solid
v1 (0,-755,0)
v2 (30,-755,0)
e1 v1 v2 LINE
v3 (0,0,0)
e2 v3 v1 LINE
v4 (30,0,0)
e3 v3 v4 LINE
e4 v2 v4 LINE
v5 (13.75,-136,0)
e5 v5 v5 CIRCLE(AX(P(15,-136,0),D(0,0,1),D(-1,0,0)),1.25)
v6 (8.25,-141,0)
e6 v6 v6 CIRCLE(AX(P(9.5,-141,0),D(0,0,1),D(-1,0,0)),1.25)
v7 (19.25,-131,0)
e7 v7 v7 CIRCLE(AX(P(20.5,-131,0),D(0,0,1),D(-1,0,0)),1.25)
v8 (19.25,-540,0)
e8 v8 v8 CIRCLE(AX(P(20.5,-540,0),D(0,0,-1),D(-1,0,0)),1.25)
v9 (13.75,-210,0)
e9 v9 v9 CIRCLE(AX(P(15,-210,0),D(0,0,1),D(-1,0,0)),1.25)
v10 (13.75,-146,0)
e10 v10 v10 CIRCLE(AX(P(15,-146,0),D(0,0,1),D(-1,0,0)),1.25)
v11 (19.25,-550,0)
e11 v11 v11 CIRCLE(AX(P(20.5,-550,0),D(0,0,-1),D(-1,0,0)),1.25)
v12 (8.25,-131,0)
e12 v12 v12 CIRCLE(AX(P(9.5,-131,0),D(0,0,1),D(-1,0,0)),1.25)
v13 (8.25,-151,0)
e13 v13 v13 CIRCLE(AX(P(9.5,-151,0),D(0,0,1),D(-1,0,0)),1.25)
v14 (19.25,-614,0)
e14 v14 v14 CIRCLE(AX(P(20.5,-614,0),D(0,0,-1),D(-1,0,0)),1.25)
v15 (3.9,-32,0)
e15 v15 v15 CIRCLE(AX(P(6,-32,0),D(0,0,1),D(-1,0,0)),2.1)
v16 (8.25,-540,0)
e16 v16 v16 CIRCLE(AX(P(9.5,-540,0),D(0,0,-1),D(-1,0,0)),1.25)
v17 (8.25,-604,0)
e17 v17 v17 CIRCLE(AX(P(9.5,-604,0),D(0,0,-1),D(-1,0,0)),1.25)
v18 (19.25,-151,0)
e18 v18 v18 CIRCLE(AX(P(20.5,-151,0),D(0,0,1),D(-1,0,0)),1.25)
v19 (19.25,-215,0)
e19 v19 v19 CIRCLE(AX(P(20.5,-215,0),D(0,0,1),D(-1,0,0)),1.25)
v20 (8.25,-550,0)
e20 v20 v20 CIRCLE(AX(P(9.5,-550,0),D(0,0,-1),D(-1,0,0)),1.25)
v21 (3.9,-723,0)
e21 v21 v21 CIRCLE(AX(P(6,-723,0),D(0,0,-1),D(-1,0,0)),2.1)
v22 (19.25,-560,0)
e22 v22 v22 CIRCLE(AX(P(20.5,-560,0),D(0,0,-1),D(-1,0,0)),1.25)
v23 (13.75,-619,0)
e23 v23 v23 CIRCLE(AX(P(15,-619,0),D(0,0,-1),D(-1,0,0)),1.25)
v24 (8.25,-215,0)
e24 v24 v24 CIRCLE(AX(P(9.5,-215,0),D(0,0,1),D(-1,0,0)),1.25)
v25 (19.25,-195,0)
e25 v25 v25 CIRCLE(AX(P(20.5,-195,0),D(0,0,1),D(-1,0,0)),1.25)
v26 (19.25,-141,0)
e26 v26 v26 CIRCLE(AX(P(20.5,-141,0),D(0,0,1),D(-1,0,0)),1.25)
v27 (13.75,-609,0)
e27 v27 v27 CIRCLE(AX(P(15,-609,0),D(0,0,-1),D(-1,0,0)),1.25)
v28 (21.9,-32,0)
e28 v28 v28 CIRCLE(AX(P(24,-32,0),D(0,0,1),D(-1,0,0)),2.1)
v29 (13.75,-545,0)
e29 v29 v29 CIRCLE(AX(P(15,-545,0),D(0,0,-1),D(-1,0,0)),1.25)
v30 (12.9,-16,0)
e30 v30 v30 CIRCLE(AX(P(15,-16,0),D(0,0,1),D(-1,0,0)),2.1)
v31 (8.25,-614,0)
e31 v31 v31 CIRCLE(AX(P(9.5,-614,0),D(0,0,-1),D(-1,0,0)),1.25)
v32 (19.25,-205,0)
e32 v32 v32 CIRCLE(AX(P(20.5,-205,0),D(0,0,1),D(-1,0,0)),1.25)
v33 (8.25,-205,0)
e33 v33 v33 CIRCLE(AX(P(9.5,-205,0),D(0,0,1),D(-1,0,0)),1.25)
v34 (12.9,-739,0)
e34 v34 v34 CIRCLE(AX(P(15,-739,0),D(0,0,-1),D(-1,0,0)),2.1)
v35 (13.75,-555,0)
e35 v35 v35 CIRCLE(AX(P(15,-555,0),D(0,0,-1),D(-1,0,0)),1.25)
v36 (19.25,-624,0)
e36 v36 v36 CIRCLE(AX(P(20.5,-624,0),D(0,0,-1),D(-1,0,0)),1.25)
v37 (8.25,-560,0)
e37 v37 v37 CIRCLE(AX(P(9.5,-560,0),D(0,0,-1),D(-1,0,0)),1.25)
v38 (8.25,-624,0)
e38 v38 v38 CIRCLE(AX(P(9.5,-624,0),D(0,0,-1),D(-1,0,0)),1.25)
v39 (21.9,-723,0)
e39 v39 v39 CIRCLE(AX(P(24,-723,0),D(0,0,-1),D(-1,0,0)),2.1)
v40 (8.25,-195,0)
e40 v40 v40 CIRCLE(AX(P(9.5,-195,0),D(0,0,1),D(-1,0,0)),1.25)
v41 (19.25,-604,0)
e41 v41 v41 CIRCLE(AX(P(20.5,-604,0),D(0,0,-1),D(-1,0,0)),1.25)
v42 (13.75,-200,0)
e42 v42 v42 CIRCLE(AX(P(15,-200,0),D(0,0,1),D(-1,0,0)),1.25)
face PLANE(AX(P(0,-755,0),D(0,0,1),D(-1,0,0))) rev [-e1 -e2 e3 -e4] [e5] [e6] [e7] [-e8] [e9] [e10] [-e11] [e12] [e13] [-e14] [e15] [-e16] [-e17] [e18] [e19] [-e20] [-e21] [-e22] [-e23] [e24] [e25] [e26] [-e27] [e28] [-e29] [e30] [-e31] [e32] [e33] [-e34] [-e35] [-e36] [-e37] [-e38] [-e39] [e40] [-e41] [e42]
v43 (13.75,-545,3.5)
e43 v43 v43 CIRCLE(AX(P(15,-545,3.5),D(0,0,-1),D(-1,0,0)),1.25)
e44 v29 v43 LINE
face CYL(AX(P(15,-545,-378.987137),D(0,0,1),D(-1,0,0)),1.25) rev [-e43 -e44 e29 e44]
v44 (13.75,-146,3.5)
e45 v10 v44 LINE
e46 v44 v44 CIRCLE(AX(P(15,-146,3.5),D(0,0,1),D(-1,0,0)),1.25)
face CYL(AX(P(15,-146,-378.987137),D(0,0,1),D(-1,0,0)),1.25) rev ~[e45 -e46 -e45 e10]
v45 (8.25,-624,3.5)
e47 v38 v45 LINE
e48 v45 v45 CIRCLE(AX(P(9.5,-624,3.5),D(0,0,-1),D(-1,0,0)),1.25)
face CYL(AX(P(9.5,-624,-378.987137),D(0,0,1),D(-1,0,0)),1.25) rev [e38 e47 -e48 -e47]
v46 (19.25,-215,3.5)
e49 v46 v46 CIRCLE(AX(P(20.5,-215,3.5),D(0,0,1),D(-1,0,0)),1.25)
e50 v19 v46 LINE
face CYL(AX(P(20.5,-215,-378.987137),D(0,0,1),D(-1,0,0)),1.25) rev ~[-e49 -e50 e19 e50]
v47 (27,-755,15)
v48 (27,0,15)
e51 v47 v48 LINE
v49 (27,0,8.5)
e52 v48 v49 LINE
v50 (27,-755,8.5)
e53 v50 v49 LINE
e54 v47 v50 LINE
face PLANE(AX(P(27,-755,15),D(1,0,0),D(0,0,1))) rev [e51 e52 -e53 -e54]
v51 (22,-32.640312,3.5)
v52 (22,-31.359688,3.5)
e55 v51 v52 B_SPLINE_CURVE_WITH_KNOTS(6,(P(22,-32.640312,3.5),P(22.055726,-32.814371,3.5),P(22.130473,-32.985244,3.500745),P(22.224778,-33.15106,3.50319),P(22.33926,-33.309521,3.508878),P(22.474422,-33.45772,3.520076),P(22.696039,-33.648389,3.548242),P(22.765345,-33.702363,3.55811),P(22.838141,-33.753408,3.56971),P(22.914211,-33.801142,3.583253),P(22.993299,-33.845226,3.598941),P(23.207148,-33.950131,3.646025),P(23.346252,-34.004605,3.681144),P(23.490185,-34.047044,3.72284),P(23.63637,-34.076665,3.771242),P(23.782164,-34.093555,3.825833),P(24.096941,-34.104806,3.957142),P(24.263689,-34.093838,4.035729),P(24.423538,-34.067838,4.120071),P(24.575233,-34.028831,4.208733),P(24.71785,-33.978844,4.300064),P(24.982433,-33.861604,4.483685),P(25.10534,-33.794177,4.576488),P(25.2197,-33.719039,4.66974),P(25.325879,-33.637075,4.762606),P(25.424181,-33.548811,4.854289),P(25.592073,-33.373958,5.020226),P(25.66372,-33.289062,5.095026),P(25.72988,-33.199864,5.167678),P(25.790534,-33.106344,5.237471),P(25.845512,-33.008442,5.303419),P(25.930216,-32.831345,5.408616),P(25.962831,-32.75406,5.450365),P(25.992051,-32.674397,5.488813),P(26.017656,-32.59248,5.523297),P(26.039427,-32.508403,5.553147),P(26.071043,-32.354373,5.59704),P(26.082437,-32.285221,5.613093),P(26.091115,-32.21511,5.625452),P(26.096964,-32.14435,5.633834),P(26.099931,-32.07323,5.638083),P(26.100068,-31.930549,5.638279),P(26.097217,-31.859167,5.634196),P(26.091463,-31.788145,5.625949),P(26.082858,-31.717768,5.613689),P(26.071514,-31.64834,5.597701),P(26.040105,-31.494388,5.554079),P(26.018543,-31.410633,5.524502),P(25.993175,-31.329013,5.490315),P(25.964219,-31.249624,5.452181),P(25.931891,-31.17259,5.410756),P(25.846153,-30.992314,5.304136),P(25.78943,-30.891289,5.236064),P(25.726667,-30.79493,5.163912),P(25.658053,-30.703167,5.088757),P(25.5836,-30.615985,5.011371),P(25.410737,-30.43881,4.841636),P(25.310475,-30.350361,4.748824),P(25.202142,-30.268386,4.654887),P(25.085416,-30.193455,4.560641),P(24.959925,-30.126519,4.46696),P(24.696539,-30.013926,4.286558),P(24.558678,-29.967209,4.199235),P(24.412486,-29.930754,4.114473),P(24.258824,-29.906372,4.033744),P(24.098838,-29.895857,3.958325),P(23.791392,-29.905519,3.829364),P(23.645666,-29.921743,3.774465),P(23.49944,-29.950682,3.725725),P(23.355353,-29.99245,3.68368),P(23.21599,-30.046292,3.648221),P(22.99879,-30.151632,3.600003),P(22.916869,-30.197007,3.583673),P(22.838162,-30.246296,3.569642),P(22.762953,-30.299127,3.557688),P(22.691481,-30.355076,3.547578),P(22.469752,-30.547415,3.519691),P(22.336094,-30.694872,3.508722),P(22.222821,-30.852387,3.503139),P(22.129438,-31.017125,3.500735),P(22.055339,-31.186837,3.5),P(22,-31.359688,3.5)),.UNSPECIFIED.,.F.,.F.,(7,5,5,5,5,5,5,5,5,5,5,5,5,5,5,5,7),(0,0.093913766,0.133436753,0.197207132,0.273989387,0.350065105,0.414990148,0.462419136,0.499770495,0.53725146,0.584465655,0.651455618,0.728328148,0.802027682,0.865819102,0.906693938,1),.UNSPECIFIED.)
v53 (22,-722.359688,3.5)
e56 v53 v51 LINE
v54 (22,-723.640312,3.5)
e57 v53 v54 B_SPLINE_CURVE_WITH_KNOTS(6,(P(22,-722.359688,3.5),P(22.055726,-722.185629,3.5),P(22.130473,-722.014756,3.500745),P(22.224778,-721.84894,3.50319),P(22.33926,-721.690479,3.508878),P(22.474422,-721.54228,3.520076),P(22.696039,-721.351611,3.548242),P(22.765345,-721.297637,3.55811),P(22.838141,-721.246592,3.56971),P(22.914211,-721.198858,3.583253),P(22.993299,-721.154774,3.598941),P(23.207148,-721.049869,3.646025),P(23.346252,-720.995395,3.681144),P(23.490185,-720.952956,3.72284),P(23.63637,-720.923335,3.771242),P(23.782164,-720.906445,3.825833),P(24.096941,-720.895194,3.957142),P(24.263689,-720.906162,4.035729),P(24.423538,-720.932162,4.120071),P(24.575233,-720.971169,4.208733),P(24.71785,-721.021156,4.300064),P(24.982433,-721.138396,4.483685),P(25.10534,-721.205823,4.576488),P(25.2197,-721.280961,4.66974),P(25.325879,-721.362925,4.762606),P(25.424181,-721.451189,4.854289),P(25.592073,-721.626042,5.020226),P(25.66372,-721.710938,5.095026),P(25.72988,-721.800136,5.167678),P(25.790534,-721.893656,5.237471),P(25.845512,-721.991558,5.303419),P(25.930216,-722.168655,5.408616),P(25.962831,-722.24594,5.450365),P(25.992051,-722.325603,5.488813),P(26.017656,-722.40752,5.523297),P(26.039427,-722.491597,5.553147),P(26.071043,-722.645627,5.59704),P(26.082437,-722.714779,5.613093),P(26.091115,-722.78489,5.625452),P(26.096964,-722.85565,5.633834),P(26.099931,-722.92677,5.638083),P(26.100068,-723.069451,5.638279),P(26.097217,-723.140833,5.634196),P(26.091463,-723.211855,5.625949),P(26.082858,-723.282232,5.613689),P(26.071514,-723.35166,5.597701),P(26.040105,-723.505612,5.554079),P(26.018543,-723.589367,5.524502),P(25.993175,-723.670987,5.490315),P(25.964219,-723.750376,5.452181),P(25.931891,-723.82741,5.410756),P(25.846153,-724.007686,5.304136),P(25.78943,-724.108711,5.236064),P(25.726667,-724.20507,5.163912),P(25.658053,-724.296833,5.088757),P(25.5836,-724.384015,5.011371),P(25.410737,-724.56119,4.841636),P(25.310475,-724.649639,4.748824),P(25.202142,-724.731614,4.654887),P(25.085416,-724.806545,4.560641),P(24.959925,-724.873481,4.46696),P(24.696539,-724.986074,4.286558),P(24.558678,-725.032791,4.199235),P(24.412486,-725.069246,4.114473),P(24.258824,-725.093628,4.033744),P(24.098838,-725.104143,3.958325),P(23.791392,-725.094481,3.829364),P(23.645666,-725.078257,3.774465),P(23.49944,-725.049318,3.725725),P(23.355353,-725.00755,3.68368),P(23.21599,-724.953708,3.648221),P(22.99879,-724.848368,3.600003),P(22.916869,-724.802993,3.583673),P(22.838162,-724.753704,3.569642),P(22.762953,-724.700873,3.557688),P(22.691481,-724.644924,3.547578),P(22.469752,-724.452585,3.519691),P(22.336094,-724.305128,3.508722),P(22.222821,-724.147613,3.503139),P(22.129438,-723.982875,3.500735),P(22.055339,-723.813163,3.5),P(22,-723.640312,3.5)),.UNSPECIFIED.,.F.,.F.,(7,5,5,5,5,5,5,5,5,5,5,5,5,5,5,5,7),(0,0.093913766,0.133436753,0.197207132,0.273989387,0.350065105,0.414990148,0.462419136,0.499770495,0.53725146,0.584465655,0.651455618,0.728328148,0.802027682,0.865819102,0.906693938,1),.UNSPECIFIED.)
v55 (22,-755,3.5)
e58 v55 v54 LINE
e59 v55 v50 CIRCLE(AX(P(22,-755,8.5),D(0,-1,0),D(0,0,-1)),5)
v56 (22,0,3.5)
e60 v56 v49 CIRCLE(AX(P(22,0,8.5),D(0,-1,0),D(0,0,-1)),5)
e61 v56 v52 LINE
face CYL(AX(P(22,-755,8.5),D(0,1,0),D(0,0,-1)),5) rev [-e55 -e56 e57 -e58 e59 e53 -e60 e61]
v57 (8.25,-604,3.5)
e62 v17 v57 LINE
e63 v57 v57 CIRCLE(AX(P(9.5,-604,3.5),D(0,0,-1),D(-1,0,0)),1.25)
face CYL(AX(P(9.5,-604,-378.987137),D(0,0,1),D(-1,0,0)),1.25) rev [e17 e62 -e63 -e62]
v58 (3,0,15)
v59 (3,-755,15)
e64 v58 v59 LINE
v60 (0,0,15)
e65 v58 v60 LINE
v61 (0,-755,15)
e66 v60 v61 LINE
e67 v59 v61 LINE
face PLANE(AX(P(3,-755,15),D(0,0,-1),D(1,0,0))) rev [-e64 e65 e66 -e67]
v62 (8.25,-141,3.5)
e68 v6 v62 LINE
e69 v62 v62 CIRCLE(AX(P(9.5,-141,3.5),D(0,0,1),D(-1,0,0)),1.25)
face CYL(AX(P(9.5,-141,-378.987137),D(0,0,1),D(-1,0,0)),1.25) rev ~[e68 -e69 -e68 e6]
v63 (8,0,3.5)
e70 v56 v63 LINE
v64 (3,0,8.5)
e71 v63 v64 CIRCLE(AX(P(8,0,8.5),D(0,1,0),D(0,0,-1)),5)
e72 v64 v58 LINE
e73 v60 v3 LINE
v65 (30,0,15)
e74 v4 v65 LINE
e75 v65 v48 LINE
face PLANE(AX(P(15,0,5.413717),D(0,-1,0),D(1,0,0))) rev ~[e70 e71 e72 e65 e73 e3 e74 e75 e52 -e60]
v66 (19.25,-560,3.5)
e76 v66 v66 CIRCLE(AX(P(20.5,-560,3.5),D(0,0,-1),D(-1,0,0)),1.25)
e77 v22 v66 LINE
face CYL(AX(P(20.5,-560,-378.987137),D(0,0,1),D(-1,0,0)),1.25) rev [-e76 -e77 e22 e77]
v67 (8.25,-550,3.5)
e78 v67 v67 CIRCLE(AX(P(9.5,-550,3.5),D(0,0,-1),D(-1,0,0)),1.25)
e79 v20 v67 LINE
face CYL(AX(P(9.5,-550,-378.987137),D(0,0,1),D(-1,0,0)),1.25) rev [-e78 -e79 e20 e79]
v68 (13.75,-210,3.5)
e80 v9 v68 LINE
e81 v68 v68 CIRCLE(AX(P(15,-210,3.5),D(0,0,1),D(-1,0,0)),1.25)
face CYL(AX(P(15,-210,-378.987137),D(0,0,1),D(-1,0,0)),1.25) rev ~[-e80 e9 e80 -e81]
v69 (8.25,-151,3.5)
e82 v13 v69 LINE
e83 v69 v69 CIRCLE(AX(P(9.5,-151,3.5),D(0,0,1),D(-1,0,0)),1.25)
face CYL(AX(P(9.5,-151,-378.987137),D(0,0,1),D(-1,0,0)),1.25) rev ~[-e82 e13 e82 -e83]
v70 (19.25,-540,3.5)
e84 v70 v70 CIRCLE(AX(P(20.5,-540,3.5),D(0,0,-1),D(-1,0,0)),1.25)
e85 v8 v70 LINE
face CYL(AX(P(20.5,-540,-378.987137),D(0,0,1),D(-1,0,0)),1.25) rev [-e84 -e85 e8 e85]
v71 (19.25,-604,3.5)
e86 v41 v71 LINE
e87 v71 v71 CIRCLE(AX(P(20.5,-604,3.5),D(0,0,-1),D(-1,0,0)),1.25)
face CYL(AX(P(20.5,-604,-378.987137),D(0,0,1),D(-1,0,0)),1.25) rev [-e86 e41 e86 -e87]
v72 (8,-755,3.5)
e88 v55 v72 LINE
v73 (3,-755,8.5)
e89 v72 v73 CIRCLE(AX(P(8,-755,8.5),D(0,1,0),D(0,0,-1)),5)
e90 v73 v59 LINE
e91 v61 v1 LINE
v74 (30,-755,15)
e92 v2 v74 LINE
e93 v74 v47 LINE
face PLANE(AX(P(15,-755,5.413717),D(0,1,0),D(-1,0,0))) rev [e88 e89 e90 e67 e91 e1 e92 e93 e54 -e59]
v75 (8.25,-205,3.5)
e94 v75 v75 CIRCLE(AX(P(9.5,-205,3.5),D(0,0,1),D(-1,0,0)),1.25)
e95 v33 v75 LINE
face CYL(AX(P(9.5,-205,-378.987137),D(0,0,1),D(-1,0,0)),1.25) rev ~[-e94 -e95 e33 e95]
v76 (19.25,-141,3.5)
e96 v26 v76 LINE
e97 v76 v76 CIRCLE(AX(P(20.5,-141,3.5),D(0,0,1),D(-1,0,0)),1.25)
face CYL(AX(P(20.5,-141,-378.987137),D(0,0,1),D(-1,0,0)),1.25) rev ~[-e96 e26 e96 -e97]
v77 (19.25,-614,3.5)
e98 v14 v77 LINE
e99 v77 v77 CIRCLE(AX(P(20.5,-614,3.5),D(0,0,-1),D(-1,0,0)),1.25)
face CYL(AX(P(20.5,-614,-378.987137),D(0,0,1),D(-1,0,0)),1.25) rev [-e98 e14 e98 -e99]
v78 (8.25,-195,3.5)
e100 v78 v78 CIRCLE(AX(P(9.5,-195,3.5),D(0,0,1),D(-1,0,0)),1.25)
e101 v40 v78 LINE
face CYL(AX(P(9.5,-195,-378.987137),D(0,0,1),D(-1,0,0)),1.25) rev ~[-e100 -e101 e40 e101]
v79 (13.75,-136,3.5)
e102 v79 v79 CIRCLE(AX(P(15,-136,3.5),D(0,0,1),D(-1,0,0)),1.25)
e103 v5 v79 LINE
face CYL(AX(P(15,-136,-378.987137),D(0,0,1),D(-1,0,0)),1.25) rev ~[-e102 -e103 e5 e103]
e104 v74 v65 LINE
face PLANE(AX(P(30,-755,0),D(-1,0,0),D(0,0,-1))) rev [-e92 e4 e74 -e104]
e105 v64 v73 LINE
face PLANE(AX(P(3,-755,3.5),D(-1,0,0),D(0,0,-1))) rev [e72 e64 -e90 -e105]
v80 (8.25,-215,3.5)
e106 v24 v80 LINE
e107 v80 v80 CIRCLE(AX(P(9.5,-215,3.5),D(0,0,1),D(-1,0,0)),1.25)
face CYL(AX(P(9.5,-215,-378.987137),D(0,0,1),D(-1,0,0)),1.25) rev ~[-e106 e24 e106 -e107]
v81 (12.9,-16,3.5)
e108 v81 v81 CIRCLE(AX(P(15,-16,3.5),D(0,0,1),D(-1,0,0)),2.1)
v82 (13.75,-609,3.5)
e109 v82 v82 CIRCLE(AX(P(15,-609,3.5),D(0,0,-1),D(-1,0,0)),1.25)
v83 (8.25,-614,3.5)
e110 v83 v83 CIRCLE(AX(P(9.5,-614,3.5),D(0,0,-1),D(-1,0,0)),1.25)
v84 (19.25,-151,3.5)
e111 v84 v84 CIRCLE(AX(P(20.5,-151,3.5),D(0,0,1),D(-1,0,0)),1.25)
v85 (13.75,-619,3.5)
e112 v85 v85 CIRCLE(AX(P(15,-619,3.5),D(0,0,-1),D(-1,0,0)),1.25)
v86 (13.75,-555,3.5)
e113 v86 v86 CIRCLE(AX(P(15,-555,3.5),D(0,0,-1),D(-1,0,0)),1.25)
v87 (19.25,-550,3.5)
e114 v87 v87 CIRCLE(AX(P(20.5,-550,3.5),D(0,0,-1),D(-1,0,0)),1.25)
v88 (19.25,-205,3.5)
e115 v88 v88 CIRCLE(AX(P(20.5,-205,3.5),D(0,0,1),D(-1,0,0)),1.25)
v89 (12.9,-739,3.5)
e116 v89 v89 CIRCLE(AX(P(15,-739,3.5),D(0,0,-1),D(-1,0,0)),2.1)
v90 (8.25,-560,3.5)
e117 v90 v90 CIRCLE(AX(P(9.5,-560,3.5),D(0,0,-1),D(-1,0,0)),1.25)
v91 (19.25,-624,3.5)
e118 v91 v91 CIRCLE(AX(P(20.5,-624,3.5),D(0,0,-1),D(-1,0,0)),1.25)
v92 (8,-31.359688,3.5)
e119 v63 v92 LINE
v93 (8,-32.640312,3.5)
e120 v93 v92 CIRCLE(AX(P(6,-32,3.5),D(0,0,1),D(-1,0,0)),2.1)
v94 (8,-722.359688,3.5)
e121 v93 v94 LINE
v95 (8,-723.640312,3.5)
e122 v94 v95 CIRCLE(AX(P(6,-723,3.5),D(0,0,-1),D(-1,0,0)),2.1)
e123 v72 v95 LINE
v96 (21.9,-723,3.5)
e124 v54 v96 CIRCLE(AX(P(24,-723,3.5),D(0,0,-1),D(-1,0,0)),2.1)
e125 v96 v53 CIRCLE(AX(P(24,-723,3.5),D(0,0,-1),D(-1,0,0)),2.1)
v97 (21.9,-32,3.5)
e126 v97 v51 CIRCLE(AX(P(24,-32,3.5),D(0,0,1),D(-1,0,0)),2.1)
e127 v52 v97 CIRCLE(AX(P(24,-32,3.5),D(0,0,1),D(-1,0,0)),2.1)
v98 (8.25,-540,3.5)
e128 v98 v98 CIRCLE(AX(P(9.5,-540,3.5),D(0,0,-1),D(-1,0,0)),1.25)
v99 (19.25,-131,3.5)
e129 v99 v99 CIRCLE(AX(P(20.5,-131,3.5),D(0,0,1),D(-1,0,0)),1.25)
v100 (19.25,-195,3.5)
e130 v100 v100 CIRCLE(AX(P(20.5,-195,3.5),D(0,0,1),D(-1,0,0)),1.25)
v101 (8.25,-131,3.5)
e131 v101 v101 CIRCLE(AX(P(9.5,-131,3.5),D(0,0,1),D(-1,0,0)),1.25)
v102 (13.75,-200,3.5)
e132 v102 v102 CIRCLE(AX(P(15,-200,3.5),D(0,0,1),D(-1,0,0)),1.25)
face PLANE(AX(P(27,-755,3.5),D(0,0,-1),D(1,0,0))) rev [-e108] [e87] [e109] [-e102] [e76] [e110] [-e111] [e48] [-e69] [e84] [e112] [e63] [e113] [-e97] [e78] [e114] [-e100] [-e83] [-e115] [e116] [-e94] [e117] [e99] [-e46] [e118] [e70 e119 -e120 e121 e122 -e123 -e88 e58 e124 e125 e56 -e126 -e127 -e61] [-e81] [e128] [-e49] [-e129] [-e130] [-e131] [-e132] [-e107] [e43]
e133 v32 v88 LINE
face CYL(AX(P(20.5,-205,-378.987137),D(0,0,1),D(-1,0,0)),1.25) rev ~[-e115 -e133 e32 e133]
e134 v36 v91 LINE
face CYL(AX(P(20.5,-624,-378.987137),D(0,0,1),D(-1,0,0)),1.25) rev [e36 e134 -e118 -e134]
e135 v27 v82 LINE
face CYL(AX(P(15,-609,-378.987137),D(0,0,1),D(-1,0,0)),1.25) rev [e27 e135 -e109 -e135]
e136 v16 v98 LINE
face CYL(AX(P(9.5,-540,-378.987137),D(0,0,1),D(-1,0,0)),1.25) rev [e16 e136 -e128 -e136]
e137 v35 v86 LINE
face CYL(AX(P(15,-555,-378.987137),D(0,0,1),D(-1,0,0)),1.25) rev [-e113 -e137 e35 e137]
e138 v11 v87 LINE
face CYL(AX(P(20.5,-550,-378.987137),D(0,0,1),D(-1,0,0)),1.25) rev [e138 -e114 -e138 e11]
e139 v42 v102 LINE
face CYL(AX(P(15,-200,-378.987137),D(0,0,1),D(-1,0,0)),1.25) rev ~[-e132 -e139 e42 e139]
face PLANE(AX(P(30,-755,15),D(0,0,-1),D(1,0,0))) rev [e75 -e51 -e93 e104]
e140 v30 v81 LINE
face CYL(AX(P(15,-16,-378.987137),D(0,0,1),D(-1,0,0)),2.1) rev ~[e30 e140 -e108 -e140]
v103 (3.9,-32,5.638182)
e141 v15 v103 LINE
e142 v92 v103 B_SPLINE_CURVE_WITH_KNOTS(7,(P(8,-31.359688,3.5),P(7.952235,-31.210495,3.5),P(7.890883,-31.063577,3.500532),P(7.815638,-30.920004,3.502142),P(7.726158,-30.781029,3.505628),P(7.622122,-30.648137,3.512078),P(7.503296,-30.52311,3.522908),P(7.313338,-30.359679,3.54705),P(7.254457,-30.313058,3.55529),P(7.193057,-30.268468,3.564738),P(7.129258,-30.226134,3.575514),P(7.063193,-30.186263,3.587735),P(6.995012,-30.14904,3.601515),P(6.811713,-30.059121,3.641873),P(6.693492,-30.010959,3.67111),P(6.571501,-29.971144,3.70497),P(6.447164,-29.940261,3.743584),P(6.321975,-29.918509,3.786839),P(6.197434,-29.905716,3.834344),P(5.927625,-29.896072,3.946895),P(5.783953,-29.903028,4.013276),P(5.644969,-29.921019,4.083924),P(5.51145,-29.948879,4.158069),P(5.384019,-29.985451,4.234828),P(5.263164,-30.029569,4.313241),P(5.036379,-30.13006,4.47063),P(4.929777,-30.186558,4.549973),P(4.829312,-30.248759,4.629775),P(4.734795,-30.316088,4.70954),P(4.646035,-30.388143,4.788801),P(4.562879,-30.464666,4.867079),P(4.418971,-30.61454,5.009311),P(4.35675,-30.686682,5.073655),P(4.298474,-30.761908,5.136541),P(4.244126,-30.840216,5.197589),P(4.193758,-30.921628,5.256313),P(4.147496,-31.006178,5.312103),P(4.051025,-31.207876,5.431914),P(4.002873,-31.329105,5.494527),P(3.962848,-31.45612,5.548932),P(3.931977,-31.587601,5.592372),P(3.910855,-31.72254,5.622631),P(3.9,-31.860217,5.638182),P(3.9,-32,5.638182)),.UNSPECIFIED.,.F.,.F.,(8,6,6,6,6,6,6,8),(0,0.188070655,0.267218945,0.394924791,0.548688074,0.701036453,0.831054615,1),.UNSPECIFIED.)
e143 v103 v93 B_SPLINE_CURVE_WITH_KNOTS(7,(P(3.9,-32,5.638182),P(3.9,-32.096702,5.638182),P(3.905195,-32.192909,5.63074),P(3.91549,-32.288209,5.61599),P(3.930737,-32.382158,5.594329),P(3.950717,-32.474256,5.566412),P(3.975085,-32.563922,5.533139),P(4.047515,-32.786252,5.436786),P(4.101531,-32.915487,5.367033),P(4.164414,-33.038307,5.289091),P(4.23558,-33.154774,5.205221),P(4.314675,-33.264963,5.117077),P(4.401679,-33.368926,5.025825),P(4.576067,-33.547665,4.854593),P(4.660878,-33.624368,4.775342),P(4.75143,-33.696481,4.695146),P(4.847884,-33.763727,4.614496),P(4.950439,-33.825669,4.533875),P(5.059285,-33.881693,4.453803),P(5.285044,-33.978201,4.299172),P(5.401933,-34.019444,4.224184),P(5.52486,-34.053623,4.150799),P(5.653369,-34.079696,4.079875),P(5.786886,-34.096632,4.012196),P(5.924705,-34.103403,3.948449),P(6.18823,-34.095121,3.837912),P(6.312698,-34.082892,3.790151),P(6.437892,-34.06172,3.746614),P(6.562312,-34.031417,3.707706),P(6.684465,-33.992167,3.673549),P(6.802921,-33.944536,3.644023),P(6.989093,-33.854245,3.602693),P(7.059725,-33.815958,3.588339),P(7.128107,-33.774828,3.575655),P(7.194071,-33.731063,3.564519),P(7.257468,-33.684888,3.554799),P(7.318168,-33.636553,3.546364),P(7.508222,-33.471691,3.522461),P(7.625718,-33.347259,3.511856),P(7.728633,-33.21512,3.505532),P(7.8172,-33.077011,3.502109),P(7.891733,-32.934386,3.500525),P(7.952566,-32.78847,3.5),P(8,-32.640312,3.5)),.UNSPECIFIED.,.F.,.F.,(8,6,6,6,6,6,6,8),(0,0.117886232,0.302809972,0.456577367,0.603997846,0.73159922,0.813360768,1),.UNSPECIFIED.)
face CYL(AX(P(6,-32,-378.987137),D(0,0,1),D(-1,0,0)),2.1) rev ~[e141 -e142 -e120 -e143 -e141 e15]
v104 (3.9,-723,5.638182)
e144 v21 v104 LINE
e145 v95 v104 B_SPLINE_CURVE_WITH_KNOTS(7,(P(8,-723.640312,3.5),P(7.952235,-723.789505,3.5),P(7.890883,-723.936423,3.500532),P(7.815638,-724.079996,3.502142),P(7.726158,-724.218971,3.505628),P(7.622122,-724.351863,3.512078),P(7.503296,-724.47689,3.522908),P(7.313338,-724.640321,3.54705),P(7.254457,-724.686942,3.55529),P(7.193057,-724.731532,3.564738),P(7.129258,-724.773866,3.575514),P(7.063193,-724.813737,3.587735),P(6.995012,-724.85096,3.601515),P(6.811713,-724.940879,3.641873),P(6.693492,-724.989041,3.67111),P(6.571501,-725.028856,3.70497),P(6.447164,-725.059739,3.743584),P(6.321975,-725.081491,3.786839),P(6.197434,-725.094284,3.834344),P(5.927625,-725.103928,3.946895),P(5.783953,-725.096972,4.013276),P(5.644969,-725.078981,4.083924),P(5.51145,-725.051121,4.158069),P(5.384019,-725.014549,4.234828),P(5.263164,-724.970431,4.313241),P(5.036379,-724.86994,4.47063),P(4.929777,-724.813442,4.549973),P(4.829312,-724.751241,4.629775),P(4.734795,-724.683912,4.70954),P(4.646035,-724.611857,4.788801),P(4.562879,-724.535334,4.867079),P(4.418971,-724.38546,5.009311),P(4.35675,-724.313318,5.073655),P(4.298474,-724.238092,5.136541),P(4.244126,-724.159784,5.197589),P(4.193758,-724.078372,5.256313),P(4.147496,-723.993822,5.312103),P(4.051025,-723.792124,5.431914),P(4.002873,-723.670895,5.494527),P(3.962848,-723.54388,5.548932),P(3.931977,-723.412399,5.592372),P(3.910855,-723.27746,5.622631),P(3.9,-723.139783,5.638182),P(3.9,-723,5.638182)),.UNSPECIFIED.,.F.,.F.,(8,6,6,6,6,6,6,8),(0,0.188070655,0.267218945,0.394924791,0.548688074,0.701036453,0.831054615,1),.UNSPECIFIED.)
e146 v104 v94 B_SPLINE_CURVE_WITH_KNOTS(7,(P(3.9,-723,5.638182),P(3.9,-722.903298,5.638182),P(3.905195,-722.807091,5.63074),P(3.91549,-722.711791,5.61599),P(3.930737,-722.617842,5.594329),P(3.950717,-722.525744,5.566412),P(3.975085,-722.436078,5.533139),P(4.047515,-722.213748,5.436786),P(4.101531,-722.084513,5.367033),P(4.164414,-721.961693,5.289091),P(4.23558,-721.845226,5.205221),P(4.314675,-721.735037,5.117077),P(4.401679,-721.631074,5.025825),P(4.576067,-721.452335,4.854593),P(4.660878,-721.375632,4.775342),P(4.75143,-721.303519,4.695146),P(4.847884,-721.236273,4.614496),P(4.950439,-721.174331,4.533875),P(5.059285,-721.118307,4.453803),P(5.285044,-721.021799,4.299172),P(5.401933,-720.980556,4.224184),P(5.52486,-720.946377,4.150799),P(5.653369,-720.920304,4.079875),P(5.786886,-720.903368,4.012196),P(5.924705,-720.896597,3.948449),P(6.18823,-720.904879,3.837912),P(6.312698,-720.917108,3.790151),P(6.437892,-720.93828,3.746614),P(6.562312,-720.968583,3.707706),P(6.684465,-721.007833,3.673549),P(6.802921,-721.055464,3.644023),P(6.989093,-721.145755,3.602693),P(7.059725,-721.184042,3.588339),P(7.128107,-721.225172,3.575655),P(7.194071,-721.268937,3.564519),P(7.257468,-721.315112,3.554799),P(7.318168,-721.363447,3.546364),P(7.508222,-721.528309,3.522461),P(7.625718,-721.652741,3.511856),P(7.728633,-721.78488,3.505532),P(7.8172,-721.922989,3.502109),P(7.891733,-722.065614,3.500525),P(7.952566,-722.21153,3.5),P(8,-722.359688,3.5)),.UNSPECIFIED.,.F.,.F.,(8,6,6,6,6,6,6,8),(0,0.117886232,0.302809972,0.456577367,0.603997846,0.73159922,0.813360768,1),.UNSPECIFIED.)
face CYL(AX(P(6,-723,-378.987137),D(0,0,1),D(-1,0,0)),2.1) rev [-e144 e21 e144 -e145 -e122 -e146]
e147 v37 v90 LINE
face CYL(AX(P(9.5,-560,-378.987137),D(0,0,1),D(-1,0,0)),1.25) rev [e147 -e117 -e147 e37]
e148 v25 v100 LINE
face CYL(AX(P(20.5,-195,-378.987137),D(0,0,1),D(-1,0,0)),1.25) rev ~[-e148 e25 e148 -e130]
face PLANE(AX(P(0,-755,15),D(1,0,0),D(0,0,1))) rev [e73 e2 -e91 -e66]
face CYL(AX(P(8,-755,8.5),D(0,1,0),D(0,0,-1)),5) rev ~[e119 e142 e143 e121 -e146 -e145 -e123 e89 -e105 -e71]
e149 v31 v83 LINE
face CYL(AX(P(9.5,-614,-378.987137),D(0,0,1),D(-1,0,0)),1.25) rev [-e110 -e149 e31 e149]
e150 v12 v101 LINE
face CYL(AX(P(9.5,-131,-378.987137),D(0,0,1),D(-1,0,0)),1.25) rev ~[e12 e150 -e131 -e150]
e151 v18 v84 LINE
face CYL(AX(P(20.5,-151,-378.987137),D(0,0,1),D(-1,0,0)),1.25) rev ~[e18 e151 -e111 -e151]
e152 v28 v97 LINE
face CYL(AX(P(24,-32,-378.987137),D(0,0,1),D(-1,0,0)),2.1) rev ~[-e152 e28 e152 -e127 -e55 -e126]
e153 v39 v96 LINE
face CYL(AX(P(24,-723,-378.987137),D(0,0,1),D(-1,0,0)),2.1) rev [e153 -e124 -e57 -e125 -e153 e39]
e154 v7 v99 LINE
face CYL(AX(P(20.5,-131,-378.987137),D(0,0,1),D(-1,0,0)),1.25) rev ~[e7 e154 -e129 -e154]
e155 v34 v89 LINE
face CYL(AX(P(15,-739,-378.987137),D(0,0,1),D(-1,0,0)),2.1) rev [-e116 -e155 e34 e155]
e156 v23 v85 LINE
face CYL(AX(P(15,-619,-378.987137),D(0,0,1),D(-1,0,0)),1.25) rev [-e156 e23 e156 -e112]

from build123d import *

# Parameters (mm, degrees)
F1_DEPTH = 377.5
F2_R     = 5
F3_R     = 5
F5_D     = 4.2
F7_D     = 2.5


with BuildPart() as f1:
    # F0 (on Front) → F1 (new body)
    with BuildSketch(Plane.XZ):
        Polygon((0, 15), (0, 0), (30, 0), (30, 15), (27, 15), (27, 3.5), (3, 3.5), (3, 15), align=None)
    extrude(amount=F1_DEPTH)

    # F2
    f2_edges = [f1.edges().sort_by_distance(p)[0] for p in [
        (3, -188.75, 3.5),
    ]]
    fillet(f2_edges, radius=F2_R)

    # F3
    f3_edges = [f1.edges().sort_by_distance(p)[0] for p in [
        (27, -188.75, 3.5),
    ]]
    fillet(f3_edges, radius=F3_R)

    # F5 (through all)
    with Locations(Plane(origin=(0, 0, 0), x_dir=(1, 0, 0), z_dir=(0, 0, -1))):
        with Locations((24, 32), (15, 16), (6, 32)):
            Hole(F5_D / 2)

    # F7 (through all)
    with Locations(Plane(origin=(0, 0, 0), x_dir=(1, 0, 0), z_dir=(0, 0, -1))):
        with Locations((20.5, 151), (20.5, 141), (20.5, 131), (15, 146), (15, 136), (9.5, 151), (9.5, 141), (9.5, 131), (20.5, 215), (20.5, 205), (20.5, 195), (15, 210), (15, 200), (9.5, 215), (9.5, 205), (9.5, 195)):
            Hole(F7_D / 2)

    # F8: F1 across face


with BuildPart() as f1_1:
    add(f1.part)
    add(f1.part.mirror(Plane(origin=(15, -377.5, 4.7179054872), x_dir=(1, 0, 0), z_dir=(0, -1, 0))))


solid = f1_1.part
